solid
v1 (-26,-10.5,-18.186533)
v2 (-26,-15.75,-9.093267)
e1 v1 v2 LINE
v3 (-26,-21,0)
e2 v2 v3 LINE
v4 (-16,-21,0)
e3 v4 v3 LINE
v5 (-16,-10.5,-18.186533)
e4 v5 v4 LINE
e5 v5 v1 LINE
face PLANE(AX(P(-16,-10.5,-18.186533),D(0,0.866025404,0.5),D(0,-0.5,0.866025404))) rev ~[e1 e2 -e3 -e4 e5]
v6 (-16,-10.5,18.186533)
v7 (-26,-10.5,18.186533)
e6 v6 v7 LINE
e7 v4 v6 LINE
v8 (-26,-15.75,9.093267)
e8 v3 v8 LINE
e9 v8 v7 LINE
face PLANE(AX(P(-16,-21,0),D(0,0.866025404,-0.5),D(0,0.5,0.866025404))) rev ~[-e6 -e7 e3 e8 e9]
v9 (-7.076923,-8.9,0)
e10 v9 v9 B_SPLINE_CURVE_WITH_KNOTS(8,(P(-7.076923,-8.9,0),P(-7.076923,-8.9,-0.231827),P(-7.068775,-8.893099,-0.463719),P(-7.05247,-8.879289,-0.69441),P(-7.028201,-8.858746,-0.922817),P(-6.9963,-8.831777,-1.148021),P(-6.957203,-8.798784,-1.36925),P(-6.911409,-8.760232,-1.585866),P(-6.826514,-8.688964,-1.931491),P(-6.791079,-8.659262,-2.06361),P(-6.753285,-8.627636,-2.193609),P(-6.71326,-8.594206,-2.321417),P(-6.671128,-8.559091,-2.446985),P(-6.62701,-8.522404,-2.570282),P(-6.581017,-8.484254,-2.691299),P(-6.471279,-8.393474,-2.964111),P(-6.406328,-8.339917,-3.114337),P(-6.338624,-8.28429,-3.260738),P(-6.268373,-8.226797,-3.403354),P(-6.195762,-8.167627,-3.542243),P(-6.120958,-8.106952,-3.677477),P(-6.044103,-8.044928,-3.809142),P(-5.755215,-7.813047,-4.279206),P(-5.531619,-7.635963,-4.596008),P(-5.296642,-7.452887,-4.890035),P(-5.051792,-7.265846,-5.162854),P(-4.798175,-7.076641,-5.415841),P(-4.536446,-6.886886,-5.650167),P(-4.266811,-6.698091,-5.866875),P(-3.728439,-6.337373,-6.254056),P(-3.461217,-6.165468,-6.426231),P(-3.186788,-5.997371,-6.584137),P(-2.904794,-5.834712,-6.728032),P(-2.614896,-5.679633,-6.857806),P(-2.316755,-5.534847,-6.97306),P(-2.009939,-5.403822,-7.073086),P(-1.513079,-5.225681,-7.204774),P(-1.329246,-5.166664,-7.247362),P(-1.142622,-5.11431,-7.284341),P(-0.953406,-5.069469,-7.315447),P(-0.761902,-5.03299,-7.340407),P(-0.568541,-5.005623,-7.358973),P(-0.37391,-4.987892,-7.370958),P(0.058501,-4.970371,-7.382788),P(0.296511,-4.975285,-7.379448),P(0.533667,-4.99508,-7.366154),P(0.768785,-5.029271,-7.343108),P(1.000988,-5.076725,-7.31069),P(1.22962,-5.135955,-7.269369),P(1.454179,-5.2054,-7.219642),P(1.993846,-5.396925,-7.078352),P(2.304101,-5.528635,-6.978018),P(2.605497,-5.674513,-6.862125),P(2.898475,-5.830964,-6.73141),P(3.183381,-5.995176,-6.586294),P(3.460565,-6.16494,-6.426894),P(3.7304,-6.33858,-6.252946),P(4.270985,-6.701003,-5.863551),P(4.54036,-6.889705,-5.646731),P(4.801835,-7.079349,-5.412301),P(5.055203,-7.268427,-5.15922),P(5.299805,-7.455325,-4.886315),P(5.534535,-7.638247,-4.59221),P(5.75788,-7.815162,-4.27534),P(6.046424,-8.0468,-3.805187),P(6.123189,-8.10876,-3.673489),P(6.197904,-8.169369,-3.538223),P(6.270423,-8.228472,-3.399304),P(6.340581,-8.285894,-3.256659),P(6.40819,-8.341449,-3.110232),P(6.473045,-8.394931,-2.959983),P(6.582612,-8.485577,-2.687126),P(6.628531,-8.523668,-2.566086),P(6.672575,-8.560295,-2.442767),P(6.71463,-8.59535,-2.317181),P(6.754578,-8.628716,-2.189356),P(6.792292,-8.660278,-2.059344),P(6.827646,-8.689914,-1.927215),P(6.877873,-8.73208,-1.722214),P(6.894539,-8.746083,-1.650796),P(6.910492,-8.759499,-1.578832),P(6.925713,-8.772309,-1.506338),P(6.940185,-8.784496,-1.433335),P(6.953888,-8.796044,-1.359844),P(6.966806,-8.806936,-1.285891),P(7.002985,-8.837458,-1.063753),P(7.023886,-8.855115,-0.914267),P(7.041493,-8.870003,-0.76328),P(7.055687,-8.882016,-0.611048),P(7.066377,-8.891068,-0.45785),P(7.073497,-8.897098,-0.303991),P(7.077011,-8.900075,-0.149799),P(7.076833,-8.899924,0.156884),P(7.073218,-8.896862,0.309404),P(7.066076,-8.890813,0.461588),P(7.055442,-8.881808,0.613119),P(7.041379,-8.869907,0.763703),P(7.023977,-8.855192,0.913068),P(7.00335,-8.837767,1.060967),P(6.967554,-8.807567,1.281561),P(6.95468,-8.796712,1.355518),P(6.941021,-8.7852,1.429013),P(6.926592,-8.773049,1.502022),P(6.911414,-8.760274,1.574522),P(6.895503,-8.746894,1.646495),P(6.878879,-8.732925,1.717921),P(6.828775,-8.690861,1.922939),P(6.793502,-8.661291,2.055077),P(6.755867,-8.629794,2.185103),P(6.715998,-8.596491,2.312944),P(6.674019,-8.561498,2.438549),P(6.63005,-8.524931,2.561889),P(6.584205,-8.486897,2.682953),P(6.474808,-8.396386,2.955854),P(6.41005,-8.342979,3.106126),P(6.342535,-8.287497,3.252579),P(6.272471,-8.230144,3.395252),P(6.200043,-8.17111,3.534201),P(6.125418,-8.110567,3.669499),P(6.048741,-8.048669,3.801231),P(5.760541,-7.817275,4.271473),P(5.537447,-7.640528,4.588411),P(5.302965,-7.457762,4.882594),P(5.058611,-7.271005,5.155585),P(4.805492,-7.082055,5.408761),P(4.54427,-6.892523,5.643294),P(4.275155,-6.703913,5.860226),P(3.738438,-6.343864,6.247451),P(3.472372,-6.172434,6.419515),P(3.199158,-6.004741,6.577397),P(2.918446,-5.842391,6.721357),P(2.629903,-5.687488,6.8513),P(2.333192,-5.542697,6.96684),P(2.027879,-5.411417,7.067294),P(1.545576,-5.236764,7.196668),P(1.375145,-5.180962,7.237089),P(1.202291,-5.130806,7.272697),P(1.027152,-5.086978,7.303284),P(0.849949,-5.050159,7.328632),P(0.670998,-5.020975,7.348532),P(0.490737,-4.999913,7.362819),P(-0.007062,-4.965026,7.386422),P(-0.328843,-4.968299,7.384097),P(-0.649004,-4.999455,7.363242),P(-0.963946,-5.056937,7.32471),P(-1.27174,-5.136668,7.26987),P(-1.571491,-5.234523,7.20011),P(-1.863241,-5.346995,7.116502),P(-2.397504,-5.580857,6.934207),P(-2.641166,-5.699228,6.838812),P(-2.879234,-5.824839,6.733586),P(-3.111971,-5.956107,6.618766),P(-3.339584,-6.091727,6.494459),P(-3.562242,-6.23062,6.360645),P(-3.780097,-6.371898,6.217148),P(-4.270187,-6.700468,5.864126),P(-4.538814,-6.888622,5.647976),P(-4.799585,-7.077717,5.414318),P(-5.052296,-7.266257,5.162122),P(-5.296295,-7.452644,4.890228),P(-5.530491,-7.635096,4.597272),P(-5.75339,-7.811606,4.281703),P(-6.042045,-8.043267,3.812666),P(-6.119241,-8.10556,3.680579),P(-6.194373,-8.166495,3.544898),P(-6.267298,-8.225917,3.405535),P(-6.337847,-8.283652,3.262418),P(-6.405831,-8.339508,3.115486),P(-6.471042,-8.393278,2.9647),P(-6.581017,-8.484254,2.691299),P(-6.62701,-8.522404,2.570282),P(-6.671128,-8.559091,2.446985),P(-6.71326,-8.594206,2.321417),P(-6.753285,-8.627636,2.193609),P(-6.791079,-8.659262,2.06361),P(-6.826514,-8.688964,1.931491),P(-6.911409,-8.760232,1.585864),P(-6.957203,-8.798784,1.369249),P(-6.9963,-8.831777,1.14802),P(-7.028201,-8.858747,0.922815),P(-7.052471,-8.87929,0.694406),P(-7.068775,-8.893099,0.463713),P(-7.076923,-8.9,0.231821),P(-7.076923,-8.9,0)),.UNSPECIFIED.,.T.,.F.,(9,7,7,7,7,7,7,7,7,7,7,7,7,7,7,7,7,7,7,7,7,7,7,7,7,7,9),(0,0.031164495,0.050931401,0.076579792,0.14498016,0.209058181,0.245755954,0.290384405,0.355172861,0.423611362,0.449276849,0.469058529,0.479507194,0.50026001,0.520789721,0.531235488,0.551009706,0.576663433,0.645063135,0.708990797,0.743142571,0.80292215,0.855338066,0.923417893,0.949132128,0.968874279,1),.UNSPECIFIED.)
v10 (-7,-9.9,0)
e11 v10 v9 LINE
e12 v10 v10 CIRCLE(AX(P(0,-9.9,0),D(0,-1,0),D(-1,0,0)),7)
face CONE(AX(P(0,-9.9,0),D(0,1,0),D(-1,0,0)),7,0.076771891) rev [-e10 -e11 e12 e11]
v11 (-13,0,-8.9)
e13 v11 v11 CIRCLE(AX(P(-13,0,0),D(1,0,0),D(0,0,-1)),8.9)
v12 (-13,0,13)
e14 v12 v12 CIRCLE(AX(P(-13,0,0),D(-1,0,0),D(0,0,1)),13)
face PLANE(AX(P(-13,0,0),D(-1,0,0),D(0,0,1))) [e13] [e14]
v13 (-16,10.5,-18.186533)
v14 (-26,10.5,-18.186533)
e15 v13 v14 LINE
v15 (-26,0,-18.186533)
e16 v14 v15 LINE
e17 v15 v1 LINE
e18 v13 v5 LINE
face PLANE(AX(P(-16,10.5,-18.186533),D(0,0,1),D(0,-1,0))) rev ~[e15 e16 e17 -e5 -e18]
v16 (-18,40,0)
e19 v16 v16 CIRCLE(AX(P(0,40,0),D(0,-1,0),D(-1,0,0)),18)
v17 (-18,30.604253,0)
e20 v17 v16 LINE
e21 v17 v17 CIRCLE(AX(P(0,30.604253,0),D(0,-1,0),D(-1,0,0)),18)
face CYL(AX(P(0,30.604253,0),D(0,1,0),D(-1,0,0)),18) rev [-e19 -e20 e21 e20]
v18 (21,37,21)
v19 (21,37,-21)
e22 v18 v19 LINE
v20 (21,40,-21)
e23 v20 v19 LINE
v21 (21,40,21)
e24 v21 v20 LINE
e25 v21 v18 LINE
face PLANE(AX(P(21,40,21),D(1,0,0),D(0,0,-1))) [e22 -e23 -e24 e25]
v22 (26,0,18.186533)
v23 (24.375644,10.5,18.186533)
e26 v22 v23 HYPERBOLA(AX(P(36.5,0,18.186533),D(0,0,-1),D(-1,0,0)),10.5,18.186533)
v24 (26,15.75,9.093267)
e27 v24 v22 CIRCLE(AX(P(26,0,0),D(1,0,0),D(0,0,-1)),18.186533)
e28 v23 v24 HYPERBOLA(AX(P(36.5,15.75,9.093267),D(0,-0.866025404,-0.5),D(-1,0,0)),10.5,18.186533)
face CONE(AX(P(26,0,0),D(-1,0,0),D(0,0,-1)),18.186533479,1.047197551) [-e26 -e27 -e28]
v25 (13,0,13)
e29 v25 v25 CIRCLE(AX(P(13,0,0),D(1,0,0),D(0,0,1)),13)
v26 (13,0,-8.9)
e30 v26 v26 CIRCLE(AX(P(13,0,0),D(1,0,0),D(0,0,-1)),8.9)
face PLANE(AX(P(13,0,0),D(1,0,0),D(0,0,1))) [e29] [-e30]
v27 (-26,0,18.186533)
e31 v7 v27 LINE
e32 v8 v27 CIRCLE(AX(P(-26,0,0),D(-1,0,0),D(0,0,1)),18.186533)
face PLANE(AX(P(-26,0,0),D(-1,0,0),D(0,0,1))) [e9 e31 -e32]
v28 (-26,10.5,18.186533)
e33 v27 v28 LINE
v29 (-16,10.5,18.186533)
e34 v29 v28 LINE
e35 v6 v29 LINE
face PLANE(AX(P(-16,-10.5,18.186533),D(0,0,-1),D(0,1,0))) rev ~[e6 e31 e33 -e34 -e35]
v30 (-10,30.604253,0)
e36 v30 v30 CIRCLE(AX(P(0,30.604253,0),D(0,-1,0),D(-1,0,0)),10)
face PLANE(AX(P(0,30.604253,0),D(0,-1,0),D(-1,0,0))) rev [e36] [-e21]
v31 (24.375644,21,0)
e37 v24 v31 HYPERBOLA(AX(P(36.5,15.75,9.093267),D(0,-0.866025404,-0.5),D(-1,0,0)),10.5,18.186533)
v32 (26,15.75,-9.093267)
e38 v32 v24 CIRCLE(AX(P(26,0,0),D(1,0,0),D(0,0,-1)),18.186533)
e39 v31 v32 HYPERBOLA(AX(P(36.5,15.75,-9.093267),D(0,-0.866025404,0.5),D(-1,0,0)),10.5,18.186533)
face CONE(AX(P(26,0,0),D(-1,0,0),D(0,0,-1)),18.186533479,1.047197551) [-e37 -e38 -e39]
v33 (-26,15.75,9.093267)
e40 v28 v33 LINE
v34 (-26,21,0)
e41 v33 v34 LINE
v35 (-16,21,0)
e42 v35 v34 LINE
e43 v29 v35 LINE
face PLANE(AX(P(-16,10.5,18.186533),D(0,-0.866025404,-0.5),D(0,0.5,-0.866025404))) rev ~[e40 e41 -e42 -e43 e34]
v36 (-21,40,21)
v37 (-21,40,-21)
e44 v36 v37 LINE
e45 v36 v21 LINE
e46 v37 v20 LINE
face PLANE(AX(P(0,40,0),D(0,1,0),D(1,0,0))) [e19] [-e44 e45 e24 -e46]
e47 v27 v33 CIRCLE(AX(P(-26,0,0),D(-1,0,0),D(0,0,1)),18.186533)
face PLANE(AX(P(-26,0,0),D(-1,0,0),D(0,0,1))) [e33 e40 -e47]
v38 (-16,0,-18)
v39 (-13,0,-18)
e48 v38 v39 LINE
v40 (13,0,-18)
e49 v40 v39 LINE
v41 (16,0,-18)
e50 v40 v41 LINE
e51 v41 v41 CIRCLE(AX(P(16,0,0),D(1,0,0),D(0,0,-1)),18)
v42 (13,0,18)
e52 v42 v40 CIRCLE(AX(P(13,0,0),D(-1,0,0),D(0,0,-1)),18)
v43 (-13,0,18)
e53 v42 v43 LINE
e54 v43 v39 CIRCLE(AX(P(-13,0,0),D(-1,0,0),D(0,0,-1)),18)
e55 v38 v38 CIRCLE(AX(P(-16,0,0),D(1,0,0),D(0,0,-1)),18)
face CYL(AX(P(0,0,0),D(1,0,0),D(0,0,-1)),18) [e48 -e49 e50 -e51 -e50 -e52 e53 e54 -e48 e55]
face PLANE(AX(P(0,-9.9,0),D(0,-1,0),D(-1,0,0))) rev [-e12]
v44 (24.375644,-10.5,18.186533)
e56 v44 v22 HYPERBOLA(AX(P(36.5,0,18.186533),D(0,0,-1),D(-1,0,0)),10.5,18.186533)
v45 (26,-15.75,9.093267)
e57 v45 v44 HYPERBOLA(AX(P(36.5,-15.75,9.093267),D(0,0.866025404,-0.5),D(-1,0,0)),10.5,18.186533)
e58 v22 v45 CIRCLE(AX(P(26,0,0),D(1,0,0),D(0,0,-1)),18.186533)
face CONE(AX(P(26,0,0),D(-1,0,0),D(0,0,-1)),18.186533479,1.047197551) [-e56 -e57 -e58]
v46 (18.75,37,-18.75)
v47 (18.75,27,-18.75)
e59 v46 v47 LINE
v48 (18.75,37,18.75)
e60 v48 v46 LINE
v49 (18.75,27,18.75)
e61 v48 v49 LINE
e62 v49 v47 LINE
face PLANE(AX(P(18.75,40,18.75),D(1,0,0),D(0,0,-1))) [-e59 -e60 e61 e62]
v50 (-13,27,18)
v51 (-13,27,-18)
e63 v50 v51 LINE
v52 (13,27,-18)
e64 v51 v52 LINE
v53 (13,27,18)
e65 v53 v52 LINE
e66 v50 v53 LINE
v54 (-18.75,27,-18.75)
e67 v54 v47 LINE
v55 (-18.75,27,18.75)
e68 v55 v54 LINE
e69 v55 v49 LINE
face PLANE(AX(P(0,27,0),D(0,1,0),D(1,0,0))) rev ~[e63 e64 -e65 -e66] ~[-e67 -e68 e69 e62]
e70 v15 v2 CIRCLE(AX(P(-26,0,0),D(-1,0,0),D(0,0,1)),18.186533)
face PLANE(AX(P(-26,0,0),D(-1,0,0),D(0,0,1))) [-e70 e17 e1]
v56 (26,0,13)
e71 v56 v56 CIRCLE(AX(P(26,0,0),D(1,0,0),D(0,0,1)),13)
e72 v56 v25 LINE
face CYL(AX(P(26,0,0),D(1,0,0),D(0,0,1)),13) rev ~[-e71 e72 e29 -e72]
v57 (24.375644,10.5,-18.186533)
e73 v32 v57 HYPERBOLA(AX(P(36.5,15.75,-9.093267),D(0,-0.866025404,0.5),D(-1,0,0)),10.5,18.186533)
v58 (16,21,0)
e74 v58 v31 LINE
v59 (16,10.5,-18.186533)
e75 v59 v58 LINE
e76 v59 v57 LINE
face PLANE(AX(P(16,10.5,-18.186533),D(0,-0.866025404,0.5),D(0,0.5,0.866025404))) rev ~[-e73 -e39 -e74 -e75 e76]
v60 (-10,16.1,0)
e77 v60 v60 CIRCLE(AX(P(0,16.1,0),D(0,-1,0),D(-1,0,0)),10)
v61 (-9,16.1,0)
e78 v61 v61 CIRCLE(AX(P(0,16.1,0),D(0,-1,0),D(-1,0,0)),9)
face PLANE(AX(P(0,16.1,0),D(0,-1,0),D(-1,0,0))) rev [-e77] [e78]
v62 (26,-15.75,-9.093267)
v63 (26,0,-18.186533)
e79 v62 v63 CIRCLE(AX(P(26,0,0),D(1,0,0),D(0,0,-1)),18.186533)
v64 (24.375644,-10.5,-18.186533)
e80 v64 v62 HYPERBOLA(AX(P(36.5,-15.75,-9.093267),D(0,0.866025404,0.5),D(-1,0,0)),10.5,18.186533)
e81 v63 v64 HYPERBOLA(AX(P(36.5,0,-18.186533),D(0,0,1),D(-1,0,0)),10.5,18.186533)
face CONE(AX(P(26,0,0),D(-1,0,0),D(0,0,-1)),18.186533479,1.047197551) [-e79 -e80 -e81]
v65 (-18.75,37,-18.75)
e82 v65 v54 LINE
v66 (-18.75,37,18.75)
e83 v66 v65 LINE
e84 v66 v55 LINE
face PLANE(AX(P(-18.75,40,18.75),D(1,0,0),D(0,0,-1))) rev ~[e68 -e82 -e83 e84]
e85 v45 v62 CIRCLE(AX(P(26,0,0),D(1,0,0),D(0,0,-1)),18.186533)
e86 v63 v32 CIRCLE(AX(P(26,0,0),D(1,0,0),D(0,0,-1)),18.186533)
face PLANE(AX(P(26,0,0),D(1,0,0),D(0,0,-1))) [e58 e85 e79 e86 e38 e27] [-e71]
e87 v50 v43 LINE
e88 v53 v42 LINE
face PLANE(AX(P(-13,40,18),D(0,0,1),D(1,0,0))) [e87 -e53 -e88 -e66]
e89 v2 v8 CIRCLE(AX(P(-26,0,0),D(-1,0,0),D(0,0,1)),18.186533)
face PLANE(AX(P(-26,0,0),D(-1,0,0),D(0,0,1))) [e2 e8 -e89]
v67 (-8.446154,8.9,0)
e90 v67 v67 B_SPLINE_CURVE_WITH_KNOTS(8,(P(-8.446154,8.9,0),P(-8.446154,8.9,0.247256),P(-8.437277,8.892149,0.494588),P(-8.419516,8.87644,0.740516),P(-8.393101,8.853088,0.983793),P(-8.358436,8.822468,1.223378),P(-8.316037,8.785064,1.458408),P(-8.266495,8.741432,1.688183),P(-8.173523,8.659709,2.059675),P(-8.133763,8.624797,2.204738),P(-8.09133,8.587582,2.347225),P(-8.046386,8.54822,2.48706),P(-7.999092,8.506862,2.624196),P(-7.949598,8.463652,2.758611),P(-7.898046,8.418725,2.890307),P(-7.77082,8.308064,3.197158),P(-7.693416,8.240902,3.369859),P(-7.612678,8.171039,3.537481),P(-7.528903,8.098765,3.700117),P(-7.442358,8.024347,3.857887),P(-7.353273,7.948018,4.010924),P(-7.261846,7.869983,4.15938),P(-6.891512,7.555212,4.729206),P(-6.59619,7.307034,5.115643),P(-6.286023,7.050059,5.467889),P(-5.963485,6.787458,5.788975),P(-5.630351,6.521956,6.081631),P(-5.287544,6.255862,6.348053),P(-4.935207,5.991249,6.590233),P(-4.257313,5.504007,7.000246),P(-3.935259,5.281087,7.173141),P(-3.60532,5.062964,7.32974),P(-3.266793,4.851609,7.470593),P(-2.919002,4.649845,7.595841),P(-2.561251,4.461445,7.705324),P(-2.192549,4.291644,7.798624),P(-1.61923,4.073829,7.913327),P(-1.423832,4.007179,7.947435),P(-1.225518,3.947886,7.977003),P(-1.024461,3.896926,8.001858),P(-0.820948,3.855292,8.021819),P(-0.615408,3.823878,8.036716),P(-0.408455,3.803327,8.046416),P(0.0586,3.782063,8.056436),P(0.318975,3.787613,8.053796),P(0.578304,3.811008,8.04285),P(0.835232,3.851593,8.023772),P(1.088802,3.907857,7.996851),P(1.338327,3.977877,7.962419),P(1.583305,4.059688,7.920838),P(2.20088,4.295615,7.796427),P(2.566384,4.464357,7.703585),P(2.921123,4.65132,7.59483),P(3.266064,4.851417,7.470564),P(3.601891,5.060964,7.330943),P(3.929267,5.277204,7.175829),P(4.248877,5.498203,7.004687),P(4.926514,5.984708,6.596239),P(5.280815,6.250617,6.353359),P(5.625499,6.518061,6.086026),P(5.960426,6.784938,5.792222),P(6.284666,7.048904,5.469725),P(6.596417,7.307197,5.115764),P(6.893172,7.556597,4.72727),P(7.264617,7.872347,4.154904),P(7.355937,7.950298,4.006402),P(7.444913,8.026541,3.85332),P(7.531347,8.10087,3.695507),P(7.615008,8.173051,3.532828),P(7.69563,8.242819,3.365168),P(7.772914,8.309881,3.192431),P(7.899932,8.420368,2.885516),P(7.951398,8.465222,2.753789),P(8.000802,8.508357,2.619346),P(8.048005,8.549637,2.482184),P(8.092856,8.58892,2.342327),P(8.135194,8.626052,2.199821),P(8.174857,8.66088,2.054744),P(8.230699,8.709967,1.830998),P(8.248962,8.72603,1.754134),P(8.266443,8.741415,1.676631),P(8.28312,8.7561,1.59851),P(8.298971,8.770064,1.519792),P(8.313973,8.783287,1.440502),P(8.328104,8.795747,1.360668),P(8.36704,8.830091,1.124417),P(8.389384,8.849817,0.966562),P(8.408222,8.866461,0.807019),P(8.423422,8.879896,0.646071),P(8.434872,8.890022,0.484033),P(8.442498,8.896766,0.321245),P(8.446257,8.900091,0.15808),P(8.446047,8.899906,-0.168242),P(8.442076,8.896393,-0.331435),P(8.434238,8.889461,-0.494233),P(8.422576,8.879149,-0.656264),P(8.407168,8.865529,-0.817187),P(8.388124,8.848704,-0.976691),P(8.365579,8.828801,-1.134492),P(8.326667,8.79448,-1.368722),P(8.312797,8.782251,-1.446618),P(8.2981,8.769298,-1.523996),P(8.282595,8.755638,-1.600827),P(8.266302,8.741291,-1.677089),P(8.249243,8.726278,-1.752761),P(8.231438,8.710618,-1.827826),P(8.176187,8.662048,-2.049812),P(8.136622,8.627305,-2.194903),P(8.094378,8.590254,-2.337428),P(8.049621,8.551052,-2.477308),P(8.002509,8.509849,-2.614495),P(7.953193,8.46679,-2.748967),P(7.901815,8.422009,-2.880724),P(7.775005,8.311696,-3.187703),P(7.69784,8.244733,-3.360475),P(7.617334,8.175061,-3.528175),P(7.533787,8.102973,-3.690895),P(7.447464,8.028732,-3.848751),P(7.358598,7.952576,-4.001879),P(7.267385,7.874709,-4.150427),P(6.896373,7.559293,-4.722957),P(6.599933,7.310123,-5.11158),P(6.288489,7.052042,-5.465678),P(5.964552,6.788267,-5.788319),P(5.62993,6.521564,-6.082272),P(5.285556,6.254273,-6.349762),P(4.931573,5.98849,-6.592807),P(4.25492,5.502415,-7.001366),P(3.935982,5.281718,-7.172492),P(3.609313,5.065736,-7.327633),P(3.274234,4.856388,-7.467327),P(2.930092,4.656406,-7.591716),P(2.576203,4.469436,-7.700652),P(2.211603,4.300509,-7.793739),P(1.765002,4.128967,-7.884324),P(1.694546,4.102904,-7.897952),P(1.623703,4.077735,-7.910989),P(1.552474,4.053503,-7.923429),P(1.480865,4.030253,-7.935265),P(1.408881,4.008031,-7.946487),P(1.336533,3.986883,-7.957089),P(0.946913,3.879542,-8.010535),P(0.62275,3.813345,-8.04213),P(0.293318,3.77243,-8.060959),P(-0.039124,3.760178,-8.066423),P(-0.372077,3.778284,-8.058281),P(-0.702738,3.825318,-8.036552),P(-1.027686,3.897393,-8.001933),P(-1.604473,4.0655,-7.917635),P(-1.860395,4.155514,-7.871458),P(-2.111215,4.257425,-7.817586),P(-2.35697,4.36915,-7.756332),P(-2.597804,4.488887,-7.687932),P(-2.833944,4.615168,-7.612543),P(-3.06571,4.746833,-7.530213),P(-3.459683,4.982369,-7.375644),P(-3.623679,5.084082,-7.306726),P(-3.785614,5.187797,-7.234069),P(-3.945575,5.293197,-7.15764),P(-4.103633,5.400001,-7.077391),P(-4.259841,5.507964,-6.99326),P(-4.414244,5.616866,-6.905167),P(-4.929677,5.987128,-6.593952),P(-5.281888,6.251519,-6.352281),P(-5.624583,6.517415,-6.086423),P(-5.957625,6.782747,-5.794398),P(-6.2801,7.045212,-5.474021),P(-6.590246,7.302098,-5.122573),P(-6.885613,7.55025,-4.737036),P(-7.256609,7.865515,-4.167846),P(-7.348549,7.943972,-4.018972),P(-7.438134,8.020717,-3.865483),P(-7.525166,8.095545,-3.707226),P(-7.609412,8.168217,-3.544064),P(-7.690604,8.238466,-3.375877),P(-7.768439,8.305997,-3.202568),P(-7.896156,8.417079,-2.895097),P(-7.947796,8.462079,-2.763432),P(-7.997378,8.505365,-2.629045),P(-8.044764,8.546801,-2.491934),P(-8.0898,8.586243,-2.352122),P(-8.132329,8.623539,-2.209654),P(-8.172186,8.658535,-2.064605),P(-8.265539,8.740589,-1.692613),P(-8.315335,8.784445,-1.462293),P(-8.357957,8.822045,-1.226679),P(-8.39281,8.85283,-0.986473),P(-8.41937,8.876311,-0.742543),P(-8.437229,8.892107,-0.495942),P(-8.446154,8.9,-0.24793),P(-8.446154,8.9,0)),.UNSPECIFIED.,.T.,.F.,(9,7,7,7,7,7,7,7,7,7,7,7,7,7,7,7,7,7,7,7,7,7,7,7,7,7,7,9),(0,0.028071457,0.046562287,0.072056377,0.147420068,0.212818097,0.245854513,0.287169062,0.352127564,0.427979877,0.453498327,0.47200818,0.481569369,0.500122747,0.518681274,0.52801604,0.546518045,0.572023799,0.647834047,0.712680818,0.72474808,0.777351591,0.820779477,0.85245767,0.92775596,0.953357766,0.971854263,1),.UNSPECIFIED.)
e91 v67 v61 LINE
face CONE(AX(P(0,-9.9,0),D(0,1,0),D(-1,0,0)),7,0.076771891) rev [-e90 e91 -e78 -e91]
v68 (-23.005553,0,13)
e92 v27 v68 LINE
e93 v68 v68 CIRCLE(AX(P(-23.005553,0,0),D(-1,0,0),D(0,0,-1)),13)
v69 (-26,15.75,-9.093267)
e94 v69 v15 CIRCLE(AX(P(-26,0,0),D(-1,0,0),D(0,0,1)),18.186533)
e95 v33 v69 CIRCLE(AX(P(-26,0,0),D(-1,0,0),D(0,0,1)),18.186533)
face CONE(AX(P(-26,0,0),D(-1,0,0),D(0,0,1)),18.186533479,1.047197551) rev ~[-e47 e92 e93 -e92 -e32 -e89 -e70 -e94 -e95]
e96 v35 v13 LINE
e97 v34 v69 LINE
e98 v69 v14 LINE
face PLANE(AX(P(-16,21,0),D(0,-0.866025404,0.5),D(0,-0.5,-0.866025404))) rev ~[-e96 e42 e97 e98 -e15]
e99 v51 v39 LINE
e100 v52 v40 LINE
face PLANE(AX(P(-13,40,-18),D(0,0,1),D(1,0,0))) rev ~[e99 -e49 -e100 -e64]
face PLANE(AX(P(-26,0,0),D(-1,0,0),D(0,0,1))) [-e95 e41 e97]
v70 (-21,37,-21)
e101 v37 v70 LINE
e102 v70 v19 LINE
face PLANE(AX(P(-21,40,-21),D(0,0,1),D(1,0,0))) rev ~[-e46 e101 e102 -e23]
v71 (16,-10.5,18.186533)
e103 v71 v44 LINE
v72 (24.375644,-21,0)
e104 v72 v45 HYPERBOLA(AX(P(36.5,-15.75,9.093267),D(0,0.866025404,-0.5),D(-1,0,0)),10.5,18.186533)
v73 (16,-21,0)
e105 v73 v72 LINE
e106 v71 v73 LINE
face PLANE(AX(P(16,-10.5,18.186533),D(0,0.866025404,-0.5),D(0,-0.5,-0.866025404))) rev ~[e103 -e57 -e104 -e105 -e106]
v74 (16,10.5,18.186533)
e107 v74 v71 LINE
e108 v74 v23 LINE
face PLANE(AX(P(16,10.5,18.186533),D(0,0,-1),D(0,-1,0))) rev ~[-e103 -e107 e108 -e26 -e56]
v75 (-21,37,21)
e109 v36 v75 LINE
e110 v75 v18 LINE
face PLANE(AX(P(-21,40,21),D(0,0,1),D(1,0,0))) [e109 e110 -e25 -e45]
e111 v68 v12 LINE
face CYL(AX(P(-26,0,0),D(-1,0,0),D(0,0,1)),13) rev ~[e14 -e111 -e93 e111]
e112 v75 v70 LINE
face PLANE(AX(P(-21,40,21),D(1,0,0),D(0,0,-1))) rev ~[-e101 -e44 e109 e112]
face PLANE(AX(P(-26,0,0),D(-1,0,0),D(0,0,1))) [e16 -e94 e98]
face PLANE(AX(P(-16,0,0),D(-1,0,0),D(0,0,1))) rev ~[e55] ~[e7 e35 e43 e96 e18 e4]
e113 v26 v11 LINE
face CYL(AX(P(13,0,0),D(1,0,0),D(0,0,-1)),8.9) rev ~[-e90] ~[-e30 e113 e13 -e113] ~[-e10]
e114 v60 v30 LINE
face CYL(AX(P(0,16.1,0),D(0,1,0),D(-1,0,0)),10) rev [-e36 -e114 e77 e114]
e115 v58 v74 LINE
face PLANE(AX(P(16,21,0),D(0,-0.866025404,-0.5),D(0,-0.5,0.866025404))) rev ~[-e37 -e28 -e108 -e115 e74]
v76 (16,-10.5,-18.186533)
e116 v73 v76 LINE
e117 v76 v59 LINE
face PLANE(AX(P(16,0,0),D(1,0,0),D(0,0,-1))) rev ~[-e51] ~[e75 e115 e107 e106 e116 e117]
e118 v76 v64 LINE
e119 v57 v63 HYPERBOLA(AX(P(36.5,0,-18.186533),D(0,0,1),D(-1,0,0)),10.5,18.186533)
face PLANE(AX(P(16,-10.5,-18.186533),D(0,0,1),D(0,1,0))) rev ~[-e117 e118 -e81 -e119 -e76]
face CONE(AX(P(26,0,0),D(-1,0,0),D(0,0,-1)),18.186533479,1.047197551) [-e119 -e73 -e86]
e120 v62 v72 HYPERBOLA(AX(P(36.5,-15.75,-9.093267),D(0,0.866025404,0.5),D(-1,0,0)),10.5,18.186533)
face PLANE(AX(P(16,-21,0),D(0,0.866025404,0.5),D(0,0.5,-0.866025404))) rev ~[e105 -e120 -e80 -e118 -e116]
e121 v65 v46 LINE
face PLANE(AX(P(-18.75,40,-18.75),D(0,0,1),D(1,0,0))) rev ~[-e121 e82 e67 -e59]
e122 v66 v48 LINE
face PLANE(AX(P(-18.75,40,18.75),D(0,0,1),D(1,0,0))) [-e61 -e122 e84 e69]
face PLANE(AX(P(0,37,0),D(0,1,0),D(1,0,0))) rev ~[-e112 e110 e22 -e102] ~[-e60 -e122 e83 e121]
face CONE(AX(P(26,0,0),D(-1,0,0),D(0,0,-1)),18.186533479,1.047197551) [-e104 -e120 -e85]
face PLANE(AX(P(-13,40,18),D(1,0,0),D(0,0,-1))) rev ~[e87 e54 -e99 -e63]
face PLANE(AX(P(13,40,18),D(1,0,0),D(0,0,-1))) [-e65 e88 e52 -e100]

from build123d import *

# Parameters (mm, degrees)
SKETCH1_R                 = 18
BOSS_EXTRUDE1_DEPTH       = 16
BOSS_EXTRUDE2_DEPTH       = 10
BOSS_EXTRUDE6_DEPTH       = 10
SKETCH5_R                 = 13
CUT_EXTRUDE1_DEPTH        = 13
SKETCH6_R                 = 13
CUT_EXTRUDE2_DEPTH        = 13
SKETCH7_R                 = 8.9
CUT_EXTRUDE3_DEPTH        = 48.882669099
SKETCH8_OUTSIDE_W         = 70.914
SKETCH8_OUTSIDE_H         = 76.54
SKETCH8_OUTSIDE_R         = 18.186533479
CUT_EXTRUDE4_DEPTH        = 5
CUT_EXTRUDE4_DRAFT        = -60
SKETCH9_R                 = 18.186533479
CUT_EXTRUDE5_DEPTH        = 5
CUT_EXTRUDE5_DRAFT        = -60
SKETCH10_W                = 42
SKETCH10_H                = 42
BOSS_EXTRUDE8_DEPTH       = 3
SKETCH11_W                = 37.5
SKETCH11_H                = 37.5
BOSS_EXTRUDE9_DEPTH       = 13
BOSS_EXTRUDE10_REACH      = 71.556
BOSS_EXTRUDE10_END_RADIUS = 18
SKETCH12_W                = 26
SKETCH12_H                = 36


with BuildPart() as part:
    # Sketch1 → Boss-Extrude1 (new, symmetric)
    with BuildSketch(Plane(origin=(0, 0, 0), x_dir=(0, 0, -1), z_dir=(1, 0, 0))):
        Circle(SKETCH1_R)
    extrude(amount=BOSS_EXTRUDE1_DEPTH, both=True)

    # Sketch2 → Boss-Extrude2 (add)
    with BuildSketch(Plane(origin=(16, 0, 0), x_dir=(0, 0, -1), z_dir=(1, 0, 0))):
        Polygon((0, 21), (-18.186533479, 10.5), (-18.186533479, -10.5), (0, -21), (18.186533479, -10.5), (18.186533479, 10.5), align=None)
    extrude(amount=BOSS_EXTRUDE2_DEPTH)

    # Sketch4 → Boss-Extrude6 (add)
    with BuildSketch(Plane.ZY.offset(16)):
        Polygon((18.186533479, 10.5), (0, 21), (-18.186533479, 10.5), (-18.186533479, -10.5), (0, -21), (18.186533479, -10.5), align=None)
    extrude(amount=BOSS_EXTRUDE6_DEPTH)

    # Sketch5 → Cut-Extrude1 (cut)
    with BuildSketch(Plane.ZY.offset(26)):
        Circle(SKETCH5_R)
    extrude(amount=-CUT_EXTRUDE1_DEPTH, mode=Mode.SUBTRACT)

    # Sketch6 → Cut-Extrude2 (cut)
    with BuildSketch(Plane(origin=(26, 0, 0), x_dir=(0, 0, -1), z_dir=(1, 0, 0))):
        with Locations(Location((0, 0, 0), (0, 0, 180))):
            Circle(SKETCH6_R)
    extrude(amount=-CUT_EXTRUDE2_DEPTH, mode=Mode.SUBTRACT)

    # Sketch7 → Cut-Extrude3 (cut, through all)
    with BuildSketch(Plane(origin=(13, 0, 0), x_dir=(0, 0, -1), z_dir=(1, 0, 0))):
        Circle(SKETCH7_R)
    extrude(amount=-CUT_EXTRUDE3_DEPTH, mode=Mode.SUBTRACT)


with BuildPart() as cut_extrude4_tool:
    # Sketch8 outside → Cut-Extrude4 (with draft: the straight prism first)
    with BuildSketch(Plane(origin=(26, 0, 0), x_dir=(0, 0, -1), z_dir=(1, 0, 0))):
        Rectangle(SKETCH8_OUTSIDE_W, SKETCH8_OUTSIDE_H)
        Circle(SKETCH8_OUTSIDE_R, mode=Mode.SUBTRACT)
    extrude(amount=-CUT_EXTRUDE4_DEPTH)
    # Cut-Extrude4: the draft: its side faces are tilted about the plane it starts from
    cut_extrude4_sides = [cut_extrude4_tool.faces().sort_by_distance(p)[0] for p in [
        (23.5, -38.27, 0),
        (23.5, 0, -35.457),
        (23.5, 38.27, 0),
        (23.5, 0, 35.457),
        (23.5, 0, 18.186533479),
    ]]
    draft(cut_extrude4_sides, Plane(origin=(26, 0, 0), x_dir=(0, 0, -1), z_dir=(1, 0, 0)), CUT_EXTRUDE4_DRAFT)


with BuildPart() as part_1:
    add(part.part)

    # Cut-Extrude4: cut by cut_extrude4_tool
    add(cut_extrude4_tool.part, mode=Mode.SUBTRACT)


with BuildPart() as cut_extrude5_tool:
    # Sketch9 → Cut-Extrude5 (with draft: the straight prism first)
    with BuildSketch(Plane.ZY.offset(26)):
        Circle(SKETCH9_R)
    extrude(amount=-CUT_EXTRUDE5_DEPTH)
    # Cut-Extrude5: the draft: its side faces are tilted about the plane it starts from
    cut_extrude5_sides = [cut_extrude5_tool.faces().sort_by_distance(p)[0] for p in [
        (-23.5, 0, -18.186533479),
    ]]
    draft(cut_extrude5_sides, Plane.ZY.offset(26), CUT_EXTRUDE5_DRAFT)


with BuildPart() as part_2:
    add(part_1.part)

    # Cut-Extrude5: cut by cut_extrude5_tool
    add(cut_extrude5_tool.part, mode=Mode.SUBTRACT)



with BuildPart() as body_2:
    # Sketch10 → Boss-Extrude8 (new body)
    with BuildSketch(Plane(origin=(0, 40, 0), x_dir=(1, 0, 0), z_dir=(0, 1, 0))):
        Rectangle(SKETCH10_W, SKETCH10_H)
    extrude(amount=-BOSS_EXTRUDE8_DEPTH)

    # Sketch11 → Boss-Extrude9 (add)
    with BuildSketch(Plane(origin=(0, 40, 0), x_dir=(1, 0, 0), z_dir=(0, 1, 0))):
        Rectangle(SKETCH11_W, SKETCH11_H)
    extrude(amount=-BOSS_EXTRUDE9_DEPTH)


with BuildPart() as part_3:
    add(part_2.part)

    add(body_2.part)  # Boss-Extrude10 merges body 2
    # Boss-Extrude10: up to this cylinder (the profile starts outside it)
    boss_extrude10_end = Plane(origin=(0, 0, 0), z_dir=(-1, 0, 0)) * Cylinder(BOSS_EXTRUDE10_END_RADIUS, 180.112, mode=Mode.PRIVATE)
    # Sketch12 → Boss-Extrude10 (add, up to the surface)
    with BuildSketch(Plane(origin=(0, 40, 0), x_dir=(1, 0, 0), z_dir=(0, 1, 0)), mode=Mode.PRIVATE) as boss_extrude10_sk1:
        Rectangle(SKETCH12_W, SKETCH12_H)
    boss_extrude10_tool1 = extrude(boss_extrude10_sk1.sketch, amount=-BOSS_EXTRUDE10_REACH, mode=Mode.PRIVATE) - boss_extrude10_end
    add(boss_extrude10_tool1.solids().sort_by_distance((0, 40, 0))[0])

    # Sketch13 → Cut-Revolve1 (revolve, cut)
    with BuildSketch(Plane.XY, mode=Mode.PRIVATE) as cut_revolve1_sk:
        Polygon((0, 40), (0, -9.9), (7, -9.9), (9, 16.1), (10, 16.1), (10, 30.604253251), (18, 30.604253251), (18, 40), align=None)
    revolve(cut_revolve1_sk.sketch.rotate(Axis((0, 40, 0), (0, -1, 0)), 180), axis=Axis((0, 40, 0), (0, -1, 0)), mode=Mode.SUBTRACT)


solid = part_3.part
